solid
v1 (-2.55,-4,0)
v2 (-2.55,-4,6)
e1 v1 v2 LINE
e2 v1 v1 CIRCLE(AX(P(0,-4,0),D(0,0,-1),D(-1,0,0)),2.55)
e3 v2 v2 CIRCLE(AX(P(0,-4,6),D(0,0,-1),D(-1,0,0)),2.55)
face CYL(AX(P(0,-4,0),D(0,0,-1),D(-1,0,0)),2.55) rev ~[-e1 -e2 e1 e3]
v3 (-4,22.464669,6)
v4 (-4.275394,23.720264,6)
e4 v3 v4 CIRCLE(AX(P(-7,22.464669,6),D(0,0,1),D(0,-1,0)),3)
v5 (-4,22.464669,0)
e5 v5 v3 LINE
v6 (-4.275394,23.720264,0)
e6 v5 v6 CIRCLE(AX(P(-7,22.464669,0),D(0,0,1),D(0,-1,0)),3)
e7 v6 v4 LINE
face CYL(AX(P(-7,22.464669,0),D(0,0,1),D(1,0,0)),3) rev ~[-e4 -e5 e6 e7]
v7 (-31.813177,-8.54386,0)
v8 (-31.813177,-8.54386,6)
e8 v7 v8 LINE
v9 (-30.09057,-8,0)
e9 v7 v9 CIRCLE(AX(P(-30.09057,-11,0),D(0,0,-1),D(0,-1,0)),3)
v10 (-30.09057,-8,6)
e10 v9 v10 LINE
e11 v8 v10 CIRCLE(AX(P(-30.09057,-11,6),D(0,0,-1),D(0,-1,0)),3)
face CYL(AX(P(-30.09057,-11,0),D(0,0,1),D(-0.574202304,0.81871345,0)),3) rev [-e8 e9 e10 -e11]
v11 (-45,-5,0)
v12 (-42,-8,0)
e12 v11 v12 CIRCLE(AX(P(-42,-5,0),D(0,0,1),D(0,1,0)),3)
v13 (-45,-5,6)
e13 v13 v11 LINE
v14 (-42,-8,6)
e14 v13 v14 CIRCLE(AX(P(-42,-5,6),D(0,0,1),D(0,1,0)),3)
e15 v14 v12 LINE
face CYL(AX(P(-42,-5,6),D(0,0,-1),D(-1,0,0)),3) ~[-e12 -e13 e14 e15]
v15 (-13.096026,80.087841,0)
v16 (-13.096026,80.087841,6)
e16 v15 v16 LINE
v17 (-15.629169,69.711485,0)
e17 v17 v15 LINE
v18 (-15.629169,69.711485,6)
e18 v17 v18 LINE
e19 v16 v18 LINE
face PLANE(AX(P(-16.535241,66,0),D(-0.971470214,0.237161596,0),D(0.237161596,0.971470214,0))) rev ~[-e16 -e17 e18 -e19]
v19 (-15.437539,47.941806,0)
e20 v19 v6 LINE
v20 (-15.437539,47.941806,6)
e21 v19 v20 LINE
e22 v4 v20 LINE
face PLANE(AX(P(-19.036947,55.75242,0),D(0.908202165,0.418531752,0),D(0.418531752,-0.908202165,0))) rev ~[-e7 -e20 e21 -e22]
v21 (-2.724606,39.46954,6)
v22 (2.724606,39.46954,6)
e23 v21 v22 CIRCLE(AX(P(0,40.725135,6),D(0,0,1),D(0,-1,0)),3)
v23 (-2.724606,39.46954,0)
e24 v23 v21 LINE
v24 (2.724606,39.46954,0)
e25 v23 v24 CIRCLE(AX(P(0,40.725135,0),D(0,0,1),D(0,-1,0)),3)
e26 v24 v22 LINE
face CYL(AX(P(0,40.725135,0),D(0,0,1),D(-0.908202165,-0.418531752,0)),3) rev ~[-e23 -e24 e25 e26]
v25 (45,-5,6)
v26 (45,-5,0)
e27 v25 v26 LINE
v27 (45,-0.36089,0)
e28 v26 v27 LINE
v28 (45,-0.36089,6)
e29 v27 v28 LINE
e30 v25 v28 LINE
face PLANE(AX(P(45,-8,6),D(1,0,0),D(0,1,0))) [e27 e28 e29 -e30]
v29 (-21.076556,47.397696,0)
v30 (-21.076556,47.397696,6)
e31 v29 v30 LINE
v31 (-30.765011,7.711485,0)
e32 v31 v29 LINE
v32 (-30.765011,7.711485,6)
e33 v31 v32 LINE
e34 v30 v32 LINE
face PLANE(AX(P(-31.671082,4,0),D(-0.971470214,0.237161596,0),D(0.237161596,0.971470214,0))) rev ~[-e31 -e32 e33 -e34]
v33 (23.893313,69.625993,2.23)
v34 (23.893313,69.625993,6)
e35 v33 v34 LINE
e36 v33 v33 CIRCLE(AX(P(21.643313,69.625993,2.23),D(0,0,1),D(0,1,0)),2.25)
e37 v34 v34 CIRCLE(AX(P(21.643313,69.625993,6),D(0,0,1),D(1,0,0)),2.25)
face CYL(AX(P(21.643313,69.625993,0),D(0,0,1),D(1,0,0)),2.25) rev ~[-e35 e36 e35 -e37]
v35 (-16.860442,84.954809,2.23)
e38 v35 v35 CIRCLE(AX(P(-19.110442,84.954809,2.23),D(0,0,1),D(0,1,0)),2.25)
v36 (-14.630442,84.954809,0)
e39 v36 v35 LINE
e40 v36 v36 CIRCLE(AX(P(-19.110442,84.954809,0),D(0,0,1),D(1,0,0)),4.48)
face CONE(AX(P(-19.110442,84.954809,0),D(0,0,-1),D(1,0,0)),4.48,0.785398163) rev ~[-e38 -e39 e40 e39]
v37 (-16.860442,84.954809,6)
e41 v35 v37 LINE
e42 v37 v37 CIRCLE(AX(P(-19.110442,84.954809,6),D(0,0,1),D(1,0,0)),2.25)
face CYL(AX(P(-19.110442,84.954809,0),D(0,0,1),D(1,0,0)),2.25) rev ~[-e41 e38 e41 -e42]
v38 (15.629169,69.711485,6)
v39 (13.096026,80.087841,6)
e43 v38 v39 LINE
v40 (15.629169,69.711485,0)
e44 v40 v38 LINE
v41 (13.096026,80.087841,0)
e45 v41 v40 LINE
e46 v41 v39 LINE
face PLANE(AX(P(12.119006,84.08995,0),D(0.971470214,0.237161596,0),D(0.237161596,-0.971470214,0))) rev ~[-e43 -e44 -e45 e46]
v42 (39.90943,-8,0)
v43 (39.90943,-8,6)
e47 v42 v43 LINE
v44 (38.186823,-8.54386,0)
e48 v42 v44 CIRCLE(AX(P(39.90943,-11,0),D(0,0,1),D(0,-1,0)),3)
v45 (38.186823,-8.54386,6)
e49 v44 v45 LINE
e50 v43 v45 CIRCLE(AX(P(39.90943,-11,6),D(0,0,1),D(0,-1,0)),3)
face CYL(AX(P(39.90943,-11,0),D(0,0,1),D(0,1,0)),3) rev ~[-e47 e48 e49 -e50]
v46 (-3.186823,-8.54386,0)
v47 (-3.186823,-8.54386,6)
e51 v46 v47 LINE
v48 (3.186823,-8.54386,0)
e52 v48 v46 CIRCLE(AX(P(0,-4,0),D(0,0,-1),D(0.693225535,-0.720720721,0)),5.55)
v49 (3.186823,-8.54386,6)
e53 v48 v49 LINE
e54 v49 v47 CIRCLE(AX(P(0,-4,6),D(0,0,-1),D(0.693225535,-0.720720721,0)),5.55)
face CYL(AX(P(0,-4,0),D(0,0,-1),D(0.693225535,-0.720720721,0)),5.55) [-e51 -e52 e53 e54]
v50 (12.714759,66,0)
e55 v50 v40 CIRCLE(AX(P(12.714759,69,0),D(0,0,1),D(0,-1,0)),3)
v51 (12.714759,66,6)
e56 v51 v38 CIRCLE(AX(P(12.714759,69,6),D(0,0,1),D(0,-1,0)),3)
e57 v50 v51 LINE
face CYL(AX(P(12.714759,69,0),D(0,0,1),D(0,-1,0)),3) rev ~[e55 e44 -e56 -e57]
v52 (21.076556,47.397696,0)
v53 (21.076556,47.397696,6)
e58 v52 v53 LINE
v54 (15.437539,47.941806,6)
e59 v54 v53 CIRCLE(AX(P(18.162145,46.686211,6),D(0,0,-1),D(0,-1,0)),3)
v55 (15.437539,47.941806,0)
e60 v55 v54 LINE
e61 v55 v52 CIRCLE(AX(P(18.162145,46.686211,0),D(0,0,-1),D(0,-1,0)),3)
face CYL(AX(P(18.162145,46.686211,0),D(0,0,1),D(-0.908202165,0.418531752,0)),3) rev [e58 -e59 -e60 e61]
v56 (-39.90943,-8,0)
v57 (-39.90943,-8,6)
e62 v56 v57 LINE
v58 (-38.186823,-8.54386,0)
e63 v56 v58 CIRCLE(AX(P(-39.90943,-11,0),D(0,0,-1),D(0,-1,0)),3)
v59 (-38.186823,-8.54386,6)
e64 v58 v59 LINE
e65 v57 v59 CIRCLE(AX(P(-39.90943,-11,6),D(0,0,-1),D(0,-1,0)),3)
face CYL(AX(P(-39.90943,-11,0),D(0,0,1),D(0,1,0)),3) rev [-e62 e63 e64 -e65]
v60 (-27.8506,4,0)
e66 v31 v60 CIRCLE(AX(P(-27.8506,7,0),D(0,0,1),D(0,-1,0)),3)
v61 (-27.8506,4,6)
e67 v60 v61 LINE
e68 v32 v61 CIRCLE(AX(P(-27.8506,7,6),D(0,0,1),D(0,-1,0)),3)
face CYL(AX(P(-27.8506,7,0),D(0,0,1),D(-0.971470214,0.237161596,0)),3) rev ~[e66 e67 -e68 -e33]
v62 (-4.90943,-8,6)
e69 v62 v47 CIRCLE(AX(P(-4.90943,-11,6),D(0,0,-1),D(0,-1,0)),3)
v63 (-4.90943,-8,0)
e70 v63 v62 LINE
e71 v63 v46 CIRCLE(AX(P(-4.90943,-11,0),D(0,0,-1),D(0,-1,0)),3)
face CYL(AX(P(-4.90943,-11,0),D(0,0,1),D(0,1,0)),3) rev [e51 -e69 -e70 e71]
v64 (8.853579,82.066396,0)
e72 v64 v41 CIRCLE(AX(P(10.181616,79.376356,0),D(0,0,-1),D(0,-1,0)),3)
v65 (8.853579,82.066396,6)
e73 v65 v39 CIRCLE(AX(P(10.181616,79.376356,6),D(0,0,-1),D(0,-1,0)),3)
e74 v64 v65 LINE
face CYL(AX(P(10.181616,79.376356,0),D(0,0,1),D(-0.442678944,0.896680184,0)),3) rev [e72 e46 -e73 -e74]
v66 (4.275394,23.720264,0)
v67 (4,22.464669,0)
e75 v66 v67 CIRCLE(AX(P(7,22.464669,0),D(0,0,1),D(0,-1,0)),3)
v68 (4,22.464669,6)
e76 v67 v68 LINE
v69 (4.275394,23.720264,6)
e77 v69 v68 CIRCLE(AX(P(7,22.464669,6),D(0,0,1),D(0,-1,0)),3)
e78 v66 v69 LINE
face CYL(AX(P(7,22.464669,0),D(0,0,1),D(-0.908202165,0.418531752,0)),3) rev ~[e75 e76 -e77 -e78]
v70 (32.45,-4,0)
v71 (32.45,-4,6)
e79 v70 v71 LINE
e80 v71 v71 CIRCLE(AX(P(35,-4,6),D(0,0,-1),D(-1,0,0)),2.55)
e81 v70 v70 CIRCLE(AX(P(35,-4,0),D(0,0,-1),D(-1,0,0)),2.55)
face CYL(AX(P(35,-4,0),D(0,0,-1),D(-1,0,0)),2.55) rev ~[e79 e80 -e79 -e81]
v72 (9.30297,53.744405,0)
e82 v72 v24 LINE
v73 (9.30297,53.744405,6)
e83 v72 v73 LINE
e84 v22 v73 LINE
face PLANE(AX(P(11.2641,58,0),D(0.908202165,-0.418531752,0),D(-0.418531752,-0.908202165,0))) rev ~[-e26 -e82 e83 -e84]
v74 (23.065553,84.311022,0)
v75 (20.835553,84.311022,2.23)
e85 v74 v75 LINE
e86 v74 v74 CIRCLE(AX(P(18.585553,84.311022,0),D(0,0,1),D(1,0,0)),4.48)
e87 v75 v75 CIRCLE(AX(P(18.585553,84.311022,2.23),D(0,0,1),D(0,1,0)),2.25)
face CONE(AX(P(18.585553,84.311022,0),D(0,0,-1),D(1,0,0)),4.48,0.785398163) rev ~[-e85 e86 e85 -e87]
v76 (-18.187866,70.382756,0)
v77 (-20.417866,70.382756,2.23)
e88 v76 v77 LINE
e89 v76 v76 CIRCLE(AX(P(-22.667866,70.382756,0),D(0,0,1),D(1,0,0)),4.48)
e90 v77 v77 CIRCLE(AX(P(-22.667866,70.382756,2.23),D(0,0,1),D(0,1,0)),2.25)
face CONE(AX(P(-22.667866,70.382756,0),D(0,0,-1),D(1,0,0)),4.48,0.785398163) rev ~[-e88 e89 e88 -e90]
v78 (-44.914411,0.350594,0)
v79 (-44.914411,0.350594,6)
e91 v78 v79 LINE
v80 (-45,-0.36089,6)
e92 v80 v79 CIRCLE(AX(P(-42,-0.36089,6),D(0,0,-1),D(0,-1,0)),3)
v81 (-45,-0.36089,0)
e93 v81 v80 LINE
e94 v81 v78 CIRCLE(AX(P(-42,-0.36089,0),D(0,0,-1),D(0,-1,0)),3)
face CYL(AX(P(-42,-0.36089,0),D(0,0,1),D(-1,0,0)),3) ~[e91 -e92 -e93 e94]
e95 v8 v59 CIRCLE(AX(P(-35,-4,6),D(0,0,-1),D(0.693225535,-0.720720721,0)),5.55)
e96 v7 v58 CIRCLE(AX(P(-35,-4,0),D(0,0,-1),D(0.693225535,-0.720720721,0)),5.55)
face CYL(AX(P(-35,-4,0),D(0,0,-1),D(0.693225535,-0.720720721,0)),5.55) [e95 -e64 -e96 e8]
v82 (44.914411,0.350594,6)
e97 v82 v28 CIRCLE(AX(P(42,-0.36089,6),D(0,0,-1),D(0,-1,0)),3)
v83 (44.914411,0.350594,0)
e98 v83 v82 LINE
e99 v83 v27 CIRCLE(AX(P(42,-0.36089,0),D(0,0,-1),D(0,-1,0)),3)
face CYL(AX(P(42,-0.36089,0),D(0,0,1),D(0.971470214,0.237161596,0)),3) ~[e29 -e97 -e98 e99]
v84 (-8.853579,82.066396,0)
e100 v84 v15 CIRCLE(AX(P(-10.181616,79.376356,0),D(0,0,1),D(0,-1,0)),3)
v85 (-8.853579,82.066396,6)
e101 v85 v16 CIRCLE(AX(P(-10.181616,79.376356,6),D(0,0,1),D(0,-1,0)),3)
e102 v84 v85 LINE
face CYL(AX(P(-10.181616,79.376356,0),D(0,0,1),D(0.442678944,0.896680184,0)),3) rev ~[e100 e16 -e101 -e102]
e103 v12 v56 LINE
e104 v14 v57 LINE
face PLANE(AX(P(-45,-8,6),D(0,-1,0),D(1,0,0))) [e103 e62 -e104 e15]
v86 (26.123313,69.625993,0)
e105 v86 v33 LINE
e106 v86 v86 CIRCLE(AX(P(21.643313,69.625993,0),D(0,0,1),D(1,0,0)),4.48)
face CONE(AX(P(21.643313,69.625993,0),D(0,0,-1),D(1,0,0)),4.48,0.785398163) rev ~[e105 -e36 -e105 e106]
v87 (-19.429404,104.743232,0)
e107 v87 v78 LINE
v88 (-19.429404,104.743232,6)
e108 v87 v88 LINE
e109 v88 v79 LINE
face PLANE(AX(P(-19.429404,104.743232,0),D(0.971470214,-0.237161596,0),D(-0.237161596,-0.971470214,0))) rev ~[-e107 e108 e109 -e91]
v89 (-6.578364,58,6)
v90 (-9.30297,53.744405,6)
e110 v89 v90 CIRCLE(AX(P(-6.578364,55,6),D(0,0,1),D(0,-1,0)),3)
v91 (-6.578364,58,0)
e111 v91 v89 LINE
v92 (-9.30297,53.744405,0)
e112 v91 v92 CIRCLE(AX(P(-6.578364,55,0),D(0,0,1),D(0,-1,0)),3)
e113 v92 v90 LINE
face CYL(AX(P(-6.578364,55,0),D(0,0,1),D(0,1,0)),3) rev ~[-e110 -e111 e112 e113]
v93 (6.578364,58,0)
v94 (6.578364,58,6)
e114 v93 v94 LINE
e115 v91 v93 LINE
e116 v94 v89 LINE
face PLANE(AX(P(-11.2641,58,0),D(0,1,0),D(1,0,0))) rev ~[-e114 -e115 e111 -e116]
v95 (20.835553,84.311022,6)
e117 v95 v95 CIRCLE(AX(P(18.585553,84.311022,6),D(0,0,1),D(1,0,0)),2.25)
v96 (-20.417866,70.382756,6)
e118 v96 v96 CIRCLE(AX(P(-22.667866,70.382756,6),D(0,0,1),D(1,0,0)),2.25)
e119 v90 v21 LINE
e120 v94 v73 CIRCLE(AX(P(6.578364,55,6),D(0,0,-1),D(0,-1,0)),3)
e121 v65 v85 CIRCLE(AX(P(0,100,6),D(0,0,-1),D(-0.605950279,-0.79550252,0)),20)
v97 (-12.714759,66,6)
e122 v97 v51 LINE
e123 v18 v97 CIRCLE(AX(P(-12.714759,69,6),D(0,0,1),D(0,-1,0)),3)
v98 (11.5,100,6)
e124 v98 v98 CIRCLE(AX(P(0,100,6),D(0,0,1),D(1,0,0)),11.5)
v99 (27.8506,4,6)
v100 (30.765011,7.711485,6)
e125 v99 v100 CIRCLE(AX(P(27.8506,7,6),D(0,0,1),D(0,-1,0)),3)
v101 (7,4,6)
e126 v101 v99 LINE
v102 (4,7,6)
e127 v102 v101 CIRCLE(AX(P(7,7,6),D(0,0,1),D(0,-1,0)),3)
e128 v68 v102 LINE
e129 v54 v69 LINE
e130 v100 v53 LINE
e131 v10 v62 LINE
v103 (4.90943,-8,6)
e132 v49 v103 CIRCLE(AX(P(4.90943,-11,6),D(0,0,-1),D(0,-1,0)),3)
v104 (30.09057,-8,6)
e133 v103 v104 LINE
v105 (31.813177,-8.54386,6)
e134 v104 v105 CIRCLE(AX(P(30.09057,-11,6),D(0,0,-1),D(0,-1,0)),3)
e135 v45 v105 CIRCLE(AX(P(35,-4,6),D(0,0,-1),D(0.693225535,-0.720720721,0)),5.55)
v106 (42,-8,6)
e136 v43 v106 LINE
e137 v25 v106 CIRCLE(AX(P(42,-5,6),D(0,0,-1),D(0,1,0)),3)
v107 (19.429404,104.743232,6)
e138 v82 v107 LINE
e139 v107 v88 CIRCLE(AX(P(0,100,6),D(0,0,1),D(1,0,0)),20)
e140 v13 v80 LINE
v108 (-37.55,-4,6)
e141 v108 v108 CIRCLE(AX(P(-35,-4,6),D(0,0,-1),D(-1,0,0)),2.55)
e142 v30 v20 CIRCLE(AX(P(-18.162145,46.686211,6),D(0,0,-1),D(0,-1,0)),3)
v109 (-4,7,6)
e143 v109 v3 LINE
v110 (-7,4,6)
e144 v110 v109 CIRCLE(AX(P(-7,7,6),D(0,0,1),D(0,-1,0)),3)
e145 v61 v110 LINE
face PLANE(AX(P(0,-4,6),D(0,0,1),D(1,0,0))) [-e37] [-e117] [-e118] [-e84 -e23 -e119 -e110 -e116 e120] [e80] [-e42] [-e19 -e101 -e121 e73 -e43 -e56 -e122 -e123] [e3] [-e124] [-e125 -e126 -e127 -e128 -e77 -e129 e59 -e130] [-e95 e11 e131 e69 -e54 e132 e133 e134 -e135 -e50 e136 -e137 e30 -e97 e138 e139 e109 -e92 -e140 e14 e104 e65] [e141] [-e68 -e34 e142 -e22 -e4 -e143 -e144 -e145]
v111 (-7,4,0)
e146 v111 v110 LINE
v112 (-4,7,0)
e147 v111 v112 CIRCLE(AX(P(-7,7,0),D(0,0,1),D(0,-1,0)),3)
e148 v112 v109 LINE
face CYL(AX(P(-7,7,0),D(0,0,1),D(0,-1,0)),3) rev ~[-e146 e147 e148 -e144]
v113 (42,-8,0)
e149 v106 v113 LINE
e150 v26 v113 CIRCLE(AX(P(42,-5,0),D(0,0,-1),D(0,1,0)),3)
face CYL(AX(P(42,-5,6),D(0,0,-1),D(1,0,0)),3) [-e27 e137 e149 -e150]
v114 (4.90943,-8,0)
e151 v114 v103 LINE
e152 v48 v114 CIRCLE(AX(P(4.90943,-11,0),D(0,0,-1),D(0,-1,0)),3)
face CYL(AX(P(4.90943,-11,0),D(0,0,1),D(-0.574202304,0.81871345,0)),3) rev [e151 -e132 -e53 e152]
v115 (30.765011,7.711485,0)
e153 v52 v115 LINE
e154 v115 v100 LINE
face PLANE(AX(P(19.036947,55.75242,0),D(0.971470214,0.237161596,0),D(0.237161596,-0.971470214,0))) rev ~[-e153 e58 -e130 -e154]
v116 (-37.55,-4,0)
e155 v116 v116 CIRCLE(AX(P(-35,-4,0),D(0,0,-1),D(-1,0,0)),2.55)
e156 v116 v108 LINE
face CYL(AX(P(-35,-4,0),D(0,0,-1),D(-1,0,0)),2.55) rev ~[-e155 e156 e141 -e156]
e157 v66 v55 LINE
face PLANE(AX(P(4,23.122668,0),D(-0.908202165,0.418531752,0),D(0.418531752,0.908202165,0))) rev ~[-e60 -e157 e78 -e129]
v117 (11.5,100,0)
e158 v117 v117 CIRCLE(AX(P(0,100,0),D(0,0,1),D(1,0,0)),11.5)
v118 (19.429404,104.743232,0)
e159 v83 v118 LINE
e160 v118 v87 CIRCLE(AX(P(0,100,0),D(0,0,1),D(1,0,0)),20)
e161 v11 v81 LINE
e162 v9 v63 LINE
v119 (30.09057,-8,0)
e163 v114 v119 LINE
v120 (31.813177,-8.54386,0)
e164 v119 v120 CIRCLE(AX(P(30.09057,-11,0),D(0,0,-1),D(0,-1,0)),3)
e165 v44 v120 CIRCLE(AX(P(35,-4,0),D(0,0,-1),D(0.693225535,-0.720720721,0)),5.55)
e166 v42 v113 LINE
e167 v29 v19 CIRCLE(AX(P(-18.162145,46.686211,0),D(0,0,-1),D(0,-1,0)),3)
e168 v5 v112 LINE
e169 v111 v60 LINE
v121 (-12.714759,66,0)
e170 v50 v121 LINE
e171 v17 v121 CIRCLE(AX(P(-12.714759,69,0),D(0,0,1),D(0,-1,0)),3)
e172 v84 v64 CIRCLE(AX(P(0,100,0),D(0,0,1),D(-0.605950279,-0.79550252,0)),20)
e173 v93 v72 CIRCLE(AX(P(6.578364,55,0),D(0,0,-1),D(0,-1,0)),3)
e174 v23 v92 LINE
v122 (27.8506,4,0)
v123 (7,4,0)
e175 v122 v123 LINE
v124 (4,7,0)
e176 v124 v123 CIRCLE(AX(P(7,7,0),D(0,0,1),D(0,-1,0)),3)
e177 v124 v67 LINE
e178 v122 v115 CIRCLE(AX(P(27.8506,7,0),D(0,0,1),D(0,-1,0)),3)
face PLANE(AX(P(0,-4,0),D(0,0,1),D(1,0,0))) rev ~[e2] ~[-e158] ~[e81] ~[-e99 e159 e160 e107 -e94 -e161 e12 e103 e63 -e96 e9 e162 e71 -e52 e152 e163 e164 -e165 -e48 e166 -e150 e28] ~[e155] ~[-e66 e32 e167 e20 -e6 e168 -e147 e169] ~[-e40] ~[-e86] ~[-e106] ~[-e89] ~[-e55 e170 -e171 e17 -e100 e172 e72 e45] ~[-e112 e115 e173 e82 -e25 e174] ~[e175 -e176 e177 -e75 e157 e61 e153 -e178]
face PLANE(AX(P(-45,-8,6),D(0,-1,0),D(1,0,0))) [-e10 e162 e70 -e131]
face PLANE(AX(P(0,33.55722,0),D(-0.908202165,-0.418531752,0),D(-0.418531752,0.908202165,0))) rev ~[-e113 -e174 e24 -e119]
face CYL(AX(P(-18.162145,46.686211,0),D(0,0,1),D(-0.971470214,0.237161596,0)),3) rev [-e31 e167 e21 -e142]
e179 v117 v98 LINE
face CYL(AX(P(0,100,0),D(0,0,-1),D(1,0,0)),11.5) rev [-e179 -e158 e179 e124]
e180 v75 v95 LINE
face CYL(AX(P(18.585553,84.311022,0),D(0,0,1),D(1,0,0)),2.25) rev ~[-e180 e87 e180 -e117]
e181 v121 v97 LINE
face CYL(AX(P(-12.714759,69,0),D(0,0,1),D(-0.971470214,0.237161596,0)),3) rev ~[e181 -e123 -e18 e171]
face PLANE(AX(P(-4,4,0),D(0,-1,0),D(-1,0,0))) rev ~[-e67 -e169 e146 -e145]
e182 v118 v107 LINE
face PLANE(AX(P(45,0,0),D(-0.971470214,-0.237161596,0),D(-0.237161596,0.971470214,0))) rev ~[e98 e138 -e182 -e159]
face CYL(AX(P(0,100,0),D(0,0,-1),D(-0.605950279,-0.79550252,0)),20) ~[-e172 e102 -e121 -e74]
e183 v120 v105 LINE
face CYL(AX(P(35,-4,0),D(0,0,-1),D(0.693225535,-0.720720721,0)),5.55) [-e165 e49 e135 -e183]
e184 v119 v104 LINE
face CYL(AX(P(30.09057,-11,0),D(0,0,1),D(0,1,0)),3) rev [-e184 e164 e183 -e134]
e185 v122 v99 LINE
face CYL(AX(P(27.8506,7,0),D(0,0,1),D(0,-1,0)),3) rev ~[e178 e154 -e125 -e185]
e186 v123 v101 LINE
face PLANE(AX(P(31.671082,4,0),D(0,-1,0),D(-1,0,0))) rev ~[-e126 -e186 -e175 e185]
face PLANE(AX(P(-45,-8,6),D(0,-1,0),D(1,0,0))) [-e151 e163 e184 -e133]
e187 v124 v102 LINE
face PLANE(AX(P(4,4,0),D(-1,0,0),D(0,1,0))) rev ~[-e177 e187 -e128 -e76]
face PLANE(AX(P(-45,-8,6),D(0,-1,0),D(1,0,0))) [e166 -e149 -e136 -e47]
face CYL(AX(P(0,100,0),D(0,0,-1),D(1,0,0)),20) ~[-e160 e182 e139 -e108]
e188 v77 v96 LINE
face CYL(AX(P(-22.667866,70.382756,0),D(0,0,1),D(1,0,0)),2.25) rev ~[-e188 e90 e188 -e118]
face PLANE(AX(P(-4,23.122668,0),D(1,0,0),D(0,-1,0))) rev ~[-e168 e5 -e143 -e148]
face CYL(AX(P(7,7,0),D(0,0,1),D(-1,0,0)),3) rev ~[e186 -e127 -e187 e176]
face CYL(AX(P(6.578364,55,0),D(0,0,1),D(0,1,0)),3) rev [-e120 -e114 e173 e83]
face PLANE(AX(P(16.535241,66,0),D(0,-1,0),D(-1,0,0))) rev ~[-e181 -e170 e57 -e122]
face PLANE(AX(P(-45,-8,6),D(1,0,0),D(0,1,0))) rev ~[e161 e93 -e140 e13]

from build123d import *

# Parameters (mm, degrees)
SKETCH_1_R                   = 20
SKETCH_1_R_2                 = 11.5
EXTRUDE_1_DEPTH              = 6
SKETCH_5_W                   = 90
SKETCH_5_H                   = 8
EXTRUDE_2_DEPTH              = 6
SKETCH_6_R                   = 2.1
CUT_EXTRUDE_1_DEPTH          = 129.300428682
HOLE_WIZARD_M4_1_D           = 4.5
HOLE_WIZARD_M4_1_DEPTH       = 11.4
HOLE_WIZARD_M4_1_CSINK_D     = 8.96
HOLE_WIZARD_M4_1_CSINK_ANGLE = 90
HOLE_WIZARD_M4_1_TIP         = 1.351936393
SKETCH_10_R                  = 2.55
CUT_EXTRUDE_2_DEPTH          = 129.300428682
EXTRUDE_4_DEPTH              = 6
CUT_EXTRUDE_3_DEPTH          = 129.300428682
FILLET_1_R                   = 3


with BuildPart() as part:
    # 草图1 → 凸台-拉伸1 (new body)
    # profile 1 of 3: a face of its own
    with BuildSketch(Plane.XY):
        with Locations((0, 100)):
            Circle(SKETCH_1_R)
        with Locations((0, 100)):
            Circle(SKETCH_1_R_2, mode=Mode.SUBTRACT)
    # profile 2 of 3: a face of its own
    with BuildSketch(Plane.XY):
        with BuildLine():
            Line((-19.429404285, 104.743231928), (-45, 0))
            Line((-45, 0), (45, 0))
            Line((45, 0), (19.429404285, 104.743231928))
            ThreePointArc((19.429404285, 104.743231928), (19.856838692, 102.388714539), (20, 100))
            ThreePointArc((20, 100), (-2.388714539, 80.143161308), (-19.429404285, 104.743231928))
        make_face()
    # profile 3 of 3: a face of its own
    with BuildSketch(Plane.XY):
        with BuildLine():
            Line((-19.429404285, 104.743231928), (-45, 0))
            Line((-45, 0), (45, 0))
            Line((45, 0), (19.429404285, 104.743231928))
            ThreePointArc((19.429404285, 104.743231928), (19.856838692, 102.388714539), (20, 100))
            ThreePointArc((20, 100), (-2.388714539, 80.143161308), (-19.429404285, 104.743231928))
        make_face()
    extrude(amount=EXTRUDE_1_DEPTH)

    # 草图5 → 凸台-拉伸2 (add)
    with BuildSketch(Plane.XY.offset(6)):
        with Locations((0, -4)):
            Rectangle(SKETCH_5_W, SKETCH_5_H)
    extrude(amount=-EXTRUDE_2_DEPTH)

    # 草图6 → 切除-拉伸1 (cut, through all)
    with BuildSketch(Plane.XY.offset(6)):
        with Locations((-22.667866245, 70.382755655)):
            Circle(SKETCH_6_R)
        with Locations((21.643312936, 69.625992562)):
            Circle(SKETCH_6_R)
        with Locations((18.58555253, 84.311022398)):
            Circle(SKETCH_6_R)
        with Locations((-19.110442299, 84.954808869)):
            Circle(SKETCH_6_R)
    extrude(amount=-CUT_EXTRUDE_1_DEPTH, mode=Mode.SUBTRACT)

    # M4 六角凹锥坑螺钉的锥形沉头孔1
    with Locations(Plane(origin=(0, 0, 0), x_dir=(-1, 0, 0), z_dir=(0, 0, -1))):
        with Locations((22.667866245, 70.382755655), (19.110442299, 84.954808869), (-18.58555253, 84.311022398), (-21.643312936, 69.625992562)):
            CounterSinkHole(HOLE_WIZARD_M4_1_D / 2, HOLE_WIZARD_M4_1_CSINK_D / 2, depth=HOLE_WIZARD_M4_1_DEPTH, counter_sink_angle=HOLE_WIZARD_M4_1_CSINK_ANGLE)
            with Locations((0, 0, -(HOLE_WIZARD_M4_1_DEPTH + HOLE_WIZARD_M4_1_TIP / 2))):  # 118° drill point
                Cone(0, HOLE_WIZARD_M4_1_D / 2, HOLE_WIZARD_M4_1_TIP, mode=Mode.SUBTRACT)

    # 草图10 → 切除-拉伸2 (cut, through all)
    with BuildSketch(Plane(origin=(0, 0, 0), x_dir=(-1, 0, 0), z_dir=(0, 0, -1))):
        with Locations((-35, -4)):
            Circle(SKETCH_10_R)
        with Locations((0, -4)):
            Circle(SKETCH_10_R)
        with Locations((35, -4)):
            Circle(SKETCH_10_R)
    extrude(amount=-CUT_EXTRUDE_2_DEPTH, mode=Mode.SUBTRACT)

    # 草图11 → 凸台-拉伸4 (add)
    with BuildSketch(Plane(origin=(0, 0, 0), x_dir=(-1, 0, 0), z_dir=(0, 0, -1))):
        with BuildLine():
            Line((-31.152598279, -8), (-38.847401721, -8))
            ThreePointArc((-38.847401721, -8), (-35, -9.55), (-31.152598279, -8))
        make_face()
        with BuildLine():
            Line((3.847401721, -8), (-3.847401721, -8))
            ThreePointArc((-3.847401721, -8), (0, -9.55), (3.847401721, -8))
        make_face()
        with BuildLine():
            ThreePointArc((31.152598279, -8), (35, -9.55), (38.847401721, -8))
            Line((38.847401721, -8), (31.152598279, -8))
        make_face()
    extrude(amount=-EXTRUDE_4_DEPTH)

    # 草图9 → 切除-拉伸3 (cut, through all)
    with BuildSketch(Plane(origin=(0, 0, 0), x_dir=(-1, 0, 0), z_dir=(0, 0, -1))):
        with BuildLine():
            ThreePointArc((12.119005584, 84.089949602), (0, 80), (-12.119005584, 84.089949602))
            Line((-12.119005584, 84.089949602), (-16.535241166, 66))
            Line((-16.535241166, 66), (16.535241166, 66))
            Line((16.535241166, 66), (12.119005584, 84.089949602))
        make_face()
        Polygon((11.264099529, 58), (-11.264099529, 58), (0, 33.55721992), align=None)
        Polygon((-4, 23.122667902), (-19.036946629, 55.752420381), (-31.671082453, 4), (-4, 4), align=None)
        Polygon((31.671082453, 4), (19.036946629, 55.752420381), (4, 23.122667902), (4, 4), align=None)
    extrude(amount=-CUT_EXTRUDE_3_DEPTH, mode=Mode.SUBTRACT)

    # 圆角1
    fillet_1_edges = [part.edges().sort_by_distance(p)[0] for p in [
        (45, 0, 3),
        (-45, 0, 3),
        (31.152598279, -8, 3),
        (38.847401721, -8, 3),
        (-3.847401721, -8, 3),
        (3.847401721, -8, 3),
        (-38.847401721, -8, 3),
        (-31.152598279, -8, 3),
        (12.119005584, 84.089949602, 3),
        (-12.119005584, 84.089949602, 3),
        (-16.535241166, 66, 3),
        (16.535241166, 66, 3),
        (-4, 23.122667902, 3),
        (-19.036946629, 55.752420381, 3),
        (-31.671082453, 4, 3),
        (-4, 4, 3),
        (11.264099529, 58, 3),
        (-11.264099529, 58, 3),
        (0, 33.55721992, 3),
        (4, 23.122667902, 3),
        (4, 4, 3),
        (31.671082453, 4, 3),
        (19.036946629, 55.752420381, 3),
        (-45, -8, 3),
        (45, -8, 3),
    ]]
    fillet(fillet_1_edges, radius=FILLET_1_R)


solid = part.part
